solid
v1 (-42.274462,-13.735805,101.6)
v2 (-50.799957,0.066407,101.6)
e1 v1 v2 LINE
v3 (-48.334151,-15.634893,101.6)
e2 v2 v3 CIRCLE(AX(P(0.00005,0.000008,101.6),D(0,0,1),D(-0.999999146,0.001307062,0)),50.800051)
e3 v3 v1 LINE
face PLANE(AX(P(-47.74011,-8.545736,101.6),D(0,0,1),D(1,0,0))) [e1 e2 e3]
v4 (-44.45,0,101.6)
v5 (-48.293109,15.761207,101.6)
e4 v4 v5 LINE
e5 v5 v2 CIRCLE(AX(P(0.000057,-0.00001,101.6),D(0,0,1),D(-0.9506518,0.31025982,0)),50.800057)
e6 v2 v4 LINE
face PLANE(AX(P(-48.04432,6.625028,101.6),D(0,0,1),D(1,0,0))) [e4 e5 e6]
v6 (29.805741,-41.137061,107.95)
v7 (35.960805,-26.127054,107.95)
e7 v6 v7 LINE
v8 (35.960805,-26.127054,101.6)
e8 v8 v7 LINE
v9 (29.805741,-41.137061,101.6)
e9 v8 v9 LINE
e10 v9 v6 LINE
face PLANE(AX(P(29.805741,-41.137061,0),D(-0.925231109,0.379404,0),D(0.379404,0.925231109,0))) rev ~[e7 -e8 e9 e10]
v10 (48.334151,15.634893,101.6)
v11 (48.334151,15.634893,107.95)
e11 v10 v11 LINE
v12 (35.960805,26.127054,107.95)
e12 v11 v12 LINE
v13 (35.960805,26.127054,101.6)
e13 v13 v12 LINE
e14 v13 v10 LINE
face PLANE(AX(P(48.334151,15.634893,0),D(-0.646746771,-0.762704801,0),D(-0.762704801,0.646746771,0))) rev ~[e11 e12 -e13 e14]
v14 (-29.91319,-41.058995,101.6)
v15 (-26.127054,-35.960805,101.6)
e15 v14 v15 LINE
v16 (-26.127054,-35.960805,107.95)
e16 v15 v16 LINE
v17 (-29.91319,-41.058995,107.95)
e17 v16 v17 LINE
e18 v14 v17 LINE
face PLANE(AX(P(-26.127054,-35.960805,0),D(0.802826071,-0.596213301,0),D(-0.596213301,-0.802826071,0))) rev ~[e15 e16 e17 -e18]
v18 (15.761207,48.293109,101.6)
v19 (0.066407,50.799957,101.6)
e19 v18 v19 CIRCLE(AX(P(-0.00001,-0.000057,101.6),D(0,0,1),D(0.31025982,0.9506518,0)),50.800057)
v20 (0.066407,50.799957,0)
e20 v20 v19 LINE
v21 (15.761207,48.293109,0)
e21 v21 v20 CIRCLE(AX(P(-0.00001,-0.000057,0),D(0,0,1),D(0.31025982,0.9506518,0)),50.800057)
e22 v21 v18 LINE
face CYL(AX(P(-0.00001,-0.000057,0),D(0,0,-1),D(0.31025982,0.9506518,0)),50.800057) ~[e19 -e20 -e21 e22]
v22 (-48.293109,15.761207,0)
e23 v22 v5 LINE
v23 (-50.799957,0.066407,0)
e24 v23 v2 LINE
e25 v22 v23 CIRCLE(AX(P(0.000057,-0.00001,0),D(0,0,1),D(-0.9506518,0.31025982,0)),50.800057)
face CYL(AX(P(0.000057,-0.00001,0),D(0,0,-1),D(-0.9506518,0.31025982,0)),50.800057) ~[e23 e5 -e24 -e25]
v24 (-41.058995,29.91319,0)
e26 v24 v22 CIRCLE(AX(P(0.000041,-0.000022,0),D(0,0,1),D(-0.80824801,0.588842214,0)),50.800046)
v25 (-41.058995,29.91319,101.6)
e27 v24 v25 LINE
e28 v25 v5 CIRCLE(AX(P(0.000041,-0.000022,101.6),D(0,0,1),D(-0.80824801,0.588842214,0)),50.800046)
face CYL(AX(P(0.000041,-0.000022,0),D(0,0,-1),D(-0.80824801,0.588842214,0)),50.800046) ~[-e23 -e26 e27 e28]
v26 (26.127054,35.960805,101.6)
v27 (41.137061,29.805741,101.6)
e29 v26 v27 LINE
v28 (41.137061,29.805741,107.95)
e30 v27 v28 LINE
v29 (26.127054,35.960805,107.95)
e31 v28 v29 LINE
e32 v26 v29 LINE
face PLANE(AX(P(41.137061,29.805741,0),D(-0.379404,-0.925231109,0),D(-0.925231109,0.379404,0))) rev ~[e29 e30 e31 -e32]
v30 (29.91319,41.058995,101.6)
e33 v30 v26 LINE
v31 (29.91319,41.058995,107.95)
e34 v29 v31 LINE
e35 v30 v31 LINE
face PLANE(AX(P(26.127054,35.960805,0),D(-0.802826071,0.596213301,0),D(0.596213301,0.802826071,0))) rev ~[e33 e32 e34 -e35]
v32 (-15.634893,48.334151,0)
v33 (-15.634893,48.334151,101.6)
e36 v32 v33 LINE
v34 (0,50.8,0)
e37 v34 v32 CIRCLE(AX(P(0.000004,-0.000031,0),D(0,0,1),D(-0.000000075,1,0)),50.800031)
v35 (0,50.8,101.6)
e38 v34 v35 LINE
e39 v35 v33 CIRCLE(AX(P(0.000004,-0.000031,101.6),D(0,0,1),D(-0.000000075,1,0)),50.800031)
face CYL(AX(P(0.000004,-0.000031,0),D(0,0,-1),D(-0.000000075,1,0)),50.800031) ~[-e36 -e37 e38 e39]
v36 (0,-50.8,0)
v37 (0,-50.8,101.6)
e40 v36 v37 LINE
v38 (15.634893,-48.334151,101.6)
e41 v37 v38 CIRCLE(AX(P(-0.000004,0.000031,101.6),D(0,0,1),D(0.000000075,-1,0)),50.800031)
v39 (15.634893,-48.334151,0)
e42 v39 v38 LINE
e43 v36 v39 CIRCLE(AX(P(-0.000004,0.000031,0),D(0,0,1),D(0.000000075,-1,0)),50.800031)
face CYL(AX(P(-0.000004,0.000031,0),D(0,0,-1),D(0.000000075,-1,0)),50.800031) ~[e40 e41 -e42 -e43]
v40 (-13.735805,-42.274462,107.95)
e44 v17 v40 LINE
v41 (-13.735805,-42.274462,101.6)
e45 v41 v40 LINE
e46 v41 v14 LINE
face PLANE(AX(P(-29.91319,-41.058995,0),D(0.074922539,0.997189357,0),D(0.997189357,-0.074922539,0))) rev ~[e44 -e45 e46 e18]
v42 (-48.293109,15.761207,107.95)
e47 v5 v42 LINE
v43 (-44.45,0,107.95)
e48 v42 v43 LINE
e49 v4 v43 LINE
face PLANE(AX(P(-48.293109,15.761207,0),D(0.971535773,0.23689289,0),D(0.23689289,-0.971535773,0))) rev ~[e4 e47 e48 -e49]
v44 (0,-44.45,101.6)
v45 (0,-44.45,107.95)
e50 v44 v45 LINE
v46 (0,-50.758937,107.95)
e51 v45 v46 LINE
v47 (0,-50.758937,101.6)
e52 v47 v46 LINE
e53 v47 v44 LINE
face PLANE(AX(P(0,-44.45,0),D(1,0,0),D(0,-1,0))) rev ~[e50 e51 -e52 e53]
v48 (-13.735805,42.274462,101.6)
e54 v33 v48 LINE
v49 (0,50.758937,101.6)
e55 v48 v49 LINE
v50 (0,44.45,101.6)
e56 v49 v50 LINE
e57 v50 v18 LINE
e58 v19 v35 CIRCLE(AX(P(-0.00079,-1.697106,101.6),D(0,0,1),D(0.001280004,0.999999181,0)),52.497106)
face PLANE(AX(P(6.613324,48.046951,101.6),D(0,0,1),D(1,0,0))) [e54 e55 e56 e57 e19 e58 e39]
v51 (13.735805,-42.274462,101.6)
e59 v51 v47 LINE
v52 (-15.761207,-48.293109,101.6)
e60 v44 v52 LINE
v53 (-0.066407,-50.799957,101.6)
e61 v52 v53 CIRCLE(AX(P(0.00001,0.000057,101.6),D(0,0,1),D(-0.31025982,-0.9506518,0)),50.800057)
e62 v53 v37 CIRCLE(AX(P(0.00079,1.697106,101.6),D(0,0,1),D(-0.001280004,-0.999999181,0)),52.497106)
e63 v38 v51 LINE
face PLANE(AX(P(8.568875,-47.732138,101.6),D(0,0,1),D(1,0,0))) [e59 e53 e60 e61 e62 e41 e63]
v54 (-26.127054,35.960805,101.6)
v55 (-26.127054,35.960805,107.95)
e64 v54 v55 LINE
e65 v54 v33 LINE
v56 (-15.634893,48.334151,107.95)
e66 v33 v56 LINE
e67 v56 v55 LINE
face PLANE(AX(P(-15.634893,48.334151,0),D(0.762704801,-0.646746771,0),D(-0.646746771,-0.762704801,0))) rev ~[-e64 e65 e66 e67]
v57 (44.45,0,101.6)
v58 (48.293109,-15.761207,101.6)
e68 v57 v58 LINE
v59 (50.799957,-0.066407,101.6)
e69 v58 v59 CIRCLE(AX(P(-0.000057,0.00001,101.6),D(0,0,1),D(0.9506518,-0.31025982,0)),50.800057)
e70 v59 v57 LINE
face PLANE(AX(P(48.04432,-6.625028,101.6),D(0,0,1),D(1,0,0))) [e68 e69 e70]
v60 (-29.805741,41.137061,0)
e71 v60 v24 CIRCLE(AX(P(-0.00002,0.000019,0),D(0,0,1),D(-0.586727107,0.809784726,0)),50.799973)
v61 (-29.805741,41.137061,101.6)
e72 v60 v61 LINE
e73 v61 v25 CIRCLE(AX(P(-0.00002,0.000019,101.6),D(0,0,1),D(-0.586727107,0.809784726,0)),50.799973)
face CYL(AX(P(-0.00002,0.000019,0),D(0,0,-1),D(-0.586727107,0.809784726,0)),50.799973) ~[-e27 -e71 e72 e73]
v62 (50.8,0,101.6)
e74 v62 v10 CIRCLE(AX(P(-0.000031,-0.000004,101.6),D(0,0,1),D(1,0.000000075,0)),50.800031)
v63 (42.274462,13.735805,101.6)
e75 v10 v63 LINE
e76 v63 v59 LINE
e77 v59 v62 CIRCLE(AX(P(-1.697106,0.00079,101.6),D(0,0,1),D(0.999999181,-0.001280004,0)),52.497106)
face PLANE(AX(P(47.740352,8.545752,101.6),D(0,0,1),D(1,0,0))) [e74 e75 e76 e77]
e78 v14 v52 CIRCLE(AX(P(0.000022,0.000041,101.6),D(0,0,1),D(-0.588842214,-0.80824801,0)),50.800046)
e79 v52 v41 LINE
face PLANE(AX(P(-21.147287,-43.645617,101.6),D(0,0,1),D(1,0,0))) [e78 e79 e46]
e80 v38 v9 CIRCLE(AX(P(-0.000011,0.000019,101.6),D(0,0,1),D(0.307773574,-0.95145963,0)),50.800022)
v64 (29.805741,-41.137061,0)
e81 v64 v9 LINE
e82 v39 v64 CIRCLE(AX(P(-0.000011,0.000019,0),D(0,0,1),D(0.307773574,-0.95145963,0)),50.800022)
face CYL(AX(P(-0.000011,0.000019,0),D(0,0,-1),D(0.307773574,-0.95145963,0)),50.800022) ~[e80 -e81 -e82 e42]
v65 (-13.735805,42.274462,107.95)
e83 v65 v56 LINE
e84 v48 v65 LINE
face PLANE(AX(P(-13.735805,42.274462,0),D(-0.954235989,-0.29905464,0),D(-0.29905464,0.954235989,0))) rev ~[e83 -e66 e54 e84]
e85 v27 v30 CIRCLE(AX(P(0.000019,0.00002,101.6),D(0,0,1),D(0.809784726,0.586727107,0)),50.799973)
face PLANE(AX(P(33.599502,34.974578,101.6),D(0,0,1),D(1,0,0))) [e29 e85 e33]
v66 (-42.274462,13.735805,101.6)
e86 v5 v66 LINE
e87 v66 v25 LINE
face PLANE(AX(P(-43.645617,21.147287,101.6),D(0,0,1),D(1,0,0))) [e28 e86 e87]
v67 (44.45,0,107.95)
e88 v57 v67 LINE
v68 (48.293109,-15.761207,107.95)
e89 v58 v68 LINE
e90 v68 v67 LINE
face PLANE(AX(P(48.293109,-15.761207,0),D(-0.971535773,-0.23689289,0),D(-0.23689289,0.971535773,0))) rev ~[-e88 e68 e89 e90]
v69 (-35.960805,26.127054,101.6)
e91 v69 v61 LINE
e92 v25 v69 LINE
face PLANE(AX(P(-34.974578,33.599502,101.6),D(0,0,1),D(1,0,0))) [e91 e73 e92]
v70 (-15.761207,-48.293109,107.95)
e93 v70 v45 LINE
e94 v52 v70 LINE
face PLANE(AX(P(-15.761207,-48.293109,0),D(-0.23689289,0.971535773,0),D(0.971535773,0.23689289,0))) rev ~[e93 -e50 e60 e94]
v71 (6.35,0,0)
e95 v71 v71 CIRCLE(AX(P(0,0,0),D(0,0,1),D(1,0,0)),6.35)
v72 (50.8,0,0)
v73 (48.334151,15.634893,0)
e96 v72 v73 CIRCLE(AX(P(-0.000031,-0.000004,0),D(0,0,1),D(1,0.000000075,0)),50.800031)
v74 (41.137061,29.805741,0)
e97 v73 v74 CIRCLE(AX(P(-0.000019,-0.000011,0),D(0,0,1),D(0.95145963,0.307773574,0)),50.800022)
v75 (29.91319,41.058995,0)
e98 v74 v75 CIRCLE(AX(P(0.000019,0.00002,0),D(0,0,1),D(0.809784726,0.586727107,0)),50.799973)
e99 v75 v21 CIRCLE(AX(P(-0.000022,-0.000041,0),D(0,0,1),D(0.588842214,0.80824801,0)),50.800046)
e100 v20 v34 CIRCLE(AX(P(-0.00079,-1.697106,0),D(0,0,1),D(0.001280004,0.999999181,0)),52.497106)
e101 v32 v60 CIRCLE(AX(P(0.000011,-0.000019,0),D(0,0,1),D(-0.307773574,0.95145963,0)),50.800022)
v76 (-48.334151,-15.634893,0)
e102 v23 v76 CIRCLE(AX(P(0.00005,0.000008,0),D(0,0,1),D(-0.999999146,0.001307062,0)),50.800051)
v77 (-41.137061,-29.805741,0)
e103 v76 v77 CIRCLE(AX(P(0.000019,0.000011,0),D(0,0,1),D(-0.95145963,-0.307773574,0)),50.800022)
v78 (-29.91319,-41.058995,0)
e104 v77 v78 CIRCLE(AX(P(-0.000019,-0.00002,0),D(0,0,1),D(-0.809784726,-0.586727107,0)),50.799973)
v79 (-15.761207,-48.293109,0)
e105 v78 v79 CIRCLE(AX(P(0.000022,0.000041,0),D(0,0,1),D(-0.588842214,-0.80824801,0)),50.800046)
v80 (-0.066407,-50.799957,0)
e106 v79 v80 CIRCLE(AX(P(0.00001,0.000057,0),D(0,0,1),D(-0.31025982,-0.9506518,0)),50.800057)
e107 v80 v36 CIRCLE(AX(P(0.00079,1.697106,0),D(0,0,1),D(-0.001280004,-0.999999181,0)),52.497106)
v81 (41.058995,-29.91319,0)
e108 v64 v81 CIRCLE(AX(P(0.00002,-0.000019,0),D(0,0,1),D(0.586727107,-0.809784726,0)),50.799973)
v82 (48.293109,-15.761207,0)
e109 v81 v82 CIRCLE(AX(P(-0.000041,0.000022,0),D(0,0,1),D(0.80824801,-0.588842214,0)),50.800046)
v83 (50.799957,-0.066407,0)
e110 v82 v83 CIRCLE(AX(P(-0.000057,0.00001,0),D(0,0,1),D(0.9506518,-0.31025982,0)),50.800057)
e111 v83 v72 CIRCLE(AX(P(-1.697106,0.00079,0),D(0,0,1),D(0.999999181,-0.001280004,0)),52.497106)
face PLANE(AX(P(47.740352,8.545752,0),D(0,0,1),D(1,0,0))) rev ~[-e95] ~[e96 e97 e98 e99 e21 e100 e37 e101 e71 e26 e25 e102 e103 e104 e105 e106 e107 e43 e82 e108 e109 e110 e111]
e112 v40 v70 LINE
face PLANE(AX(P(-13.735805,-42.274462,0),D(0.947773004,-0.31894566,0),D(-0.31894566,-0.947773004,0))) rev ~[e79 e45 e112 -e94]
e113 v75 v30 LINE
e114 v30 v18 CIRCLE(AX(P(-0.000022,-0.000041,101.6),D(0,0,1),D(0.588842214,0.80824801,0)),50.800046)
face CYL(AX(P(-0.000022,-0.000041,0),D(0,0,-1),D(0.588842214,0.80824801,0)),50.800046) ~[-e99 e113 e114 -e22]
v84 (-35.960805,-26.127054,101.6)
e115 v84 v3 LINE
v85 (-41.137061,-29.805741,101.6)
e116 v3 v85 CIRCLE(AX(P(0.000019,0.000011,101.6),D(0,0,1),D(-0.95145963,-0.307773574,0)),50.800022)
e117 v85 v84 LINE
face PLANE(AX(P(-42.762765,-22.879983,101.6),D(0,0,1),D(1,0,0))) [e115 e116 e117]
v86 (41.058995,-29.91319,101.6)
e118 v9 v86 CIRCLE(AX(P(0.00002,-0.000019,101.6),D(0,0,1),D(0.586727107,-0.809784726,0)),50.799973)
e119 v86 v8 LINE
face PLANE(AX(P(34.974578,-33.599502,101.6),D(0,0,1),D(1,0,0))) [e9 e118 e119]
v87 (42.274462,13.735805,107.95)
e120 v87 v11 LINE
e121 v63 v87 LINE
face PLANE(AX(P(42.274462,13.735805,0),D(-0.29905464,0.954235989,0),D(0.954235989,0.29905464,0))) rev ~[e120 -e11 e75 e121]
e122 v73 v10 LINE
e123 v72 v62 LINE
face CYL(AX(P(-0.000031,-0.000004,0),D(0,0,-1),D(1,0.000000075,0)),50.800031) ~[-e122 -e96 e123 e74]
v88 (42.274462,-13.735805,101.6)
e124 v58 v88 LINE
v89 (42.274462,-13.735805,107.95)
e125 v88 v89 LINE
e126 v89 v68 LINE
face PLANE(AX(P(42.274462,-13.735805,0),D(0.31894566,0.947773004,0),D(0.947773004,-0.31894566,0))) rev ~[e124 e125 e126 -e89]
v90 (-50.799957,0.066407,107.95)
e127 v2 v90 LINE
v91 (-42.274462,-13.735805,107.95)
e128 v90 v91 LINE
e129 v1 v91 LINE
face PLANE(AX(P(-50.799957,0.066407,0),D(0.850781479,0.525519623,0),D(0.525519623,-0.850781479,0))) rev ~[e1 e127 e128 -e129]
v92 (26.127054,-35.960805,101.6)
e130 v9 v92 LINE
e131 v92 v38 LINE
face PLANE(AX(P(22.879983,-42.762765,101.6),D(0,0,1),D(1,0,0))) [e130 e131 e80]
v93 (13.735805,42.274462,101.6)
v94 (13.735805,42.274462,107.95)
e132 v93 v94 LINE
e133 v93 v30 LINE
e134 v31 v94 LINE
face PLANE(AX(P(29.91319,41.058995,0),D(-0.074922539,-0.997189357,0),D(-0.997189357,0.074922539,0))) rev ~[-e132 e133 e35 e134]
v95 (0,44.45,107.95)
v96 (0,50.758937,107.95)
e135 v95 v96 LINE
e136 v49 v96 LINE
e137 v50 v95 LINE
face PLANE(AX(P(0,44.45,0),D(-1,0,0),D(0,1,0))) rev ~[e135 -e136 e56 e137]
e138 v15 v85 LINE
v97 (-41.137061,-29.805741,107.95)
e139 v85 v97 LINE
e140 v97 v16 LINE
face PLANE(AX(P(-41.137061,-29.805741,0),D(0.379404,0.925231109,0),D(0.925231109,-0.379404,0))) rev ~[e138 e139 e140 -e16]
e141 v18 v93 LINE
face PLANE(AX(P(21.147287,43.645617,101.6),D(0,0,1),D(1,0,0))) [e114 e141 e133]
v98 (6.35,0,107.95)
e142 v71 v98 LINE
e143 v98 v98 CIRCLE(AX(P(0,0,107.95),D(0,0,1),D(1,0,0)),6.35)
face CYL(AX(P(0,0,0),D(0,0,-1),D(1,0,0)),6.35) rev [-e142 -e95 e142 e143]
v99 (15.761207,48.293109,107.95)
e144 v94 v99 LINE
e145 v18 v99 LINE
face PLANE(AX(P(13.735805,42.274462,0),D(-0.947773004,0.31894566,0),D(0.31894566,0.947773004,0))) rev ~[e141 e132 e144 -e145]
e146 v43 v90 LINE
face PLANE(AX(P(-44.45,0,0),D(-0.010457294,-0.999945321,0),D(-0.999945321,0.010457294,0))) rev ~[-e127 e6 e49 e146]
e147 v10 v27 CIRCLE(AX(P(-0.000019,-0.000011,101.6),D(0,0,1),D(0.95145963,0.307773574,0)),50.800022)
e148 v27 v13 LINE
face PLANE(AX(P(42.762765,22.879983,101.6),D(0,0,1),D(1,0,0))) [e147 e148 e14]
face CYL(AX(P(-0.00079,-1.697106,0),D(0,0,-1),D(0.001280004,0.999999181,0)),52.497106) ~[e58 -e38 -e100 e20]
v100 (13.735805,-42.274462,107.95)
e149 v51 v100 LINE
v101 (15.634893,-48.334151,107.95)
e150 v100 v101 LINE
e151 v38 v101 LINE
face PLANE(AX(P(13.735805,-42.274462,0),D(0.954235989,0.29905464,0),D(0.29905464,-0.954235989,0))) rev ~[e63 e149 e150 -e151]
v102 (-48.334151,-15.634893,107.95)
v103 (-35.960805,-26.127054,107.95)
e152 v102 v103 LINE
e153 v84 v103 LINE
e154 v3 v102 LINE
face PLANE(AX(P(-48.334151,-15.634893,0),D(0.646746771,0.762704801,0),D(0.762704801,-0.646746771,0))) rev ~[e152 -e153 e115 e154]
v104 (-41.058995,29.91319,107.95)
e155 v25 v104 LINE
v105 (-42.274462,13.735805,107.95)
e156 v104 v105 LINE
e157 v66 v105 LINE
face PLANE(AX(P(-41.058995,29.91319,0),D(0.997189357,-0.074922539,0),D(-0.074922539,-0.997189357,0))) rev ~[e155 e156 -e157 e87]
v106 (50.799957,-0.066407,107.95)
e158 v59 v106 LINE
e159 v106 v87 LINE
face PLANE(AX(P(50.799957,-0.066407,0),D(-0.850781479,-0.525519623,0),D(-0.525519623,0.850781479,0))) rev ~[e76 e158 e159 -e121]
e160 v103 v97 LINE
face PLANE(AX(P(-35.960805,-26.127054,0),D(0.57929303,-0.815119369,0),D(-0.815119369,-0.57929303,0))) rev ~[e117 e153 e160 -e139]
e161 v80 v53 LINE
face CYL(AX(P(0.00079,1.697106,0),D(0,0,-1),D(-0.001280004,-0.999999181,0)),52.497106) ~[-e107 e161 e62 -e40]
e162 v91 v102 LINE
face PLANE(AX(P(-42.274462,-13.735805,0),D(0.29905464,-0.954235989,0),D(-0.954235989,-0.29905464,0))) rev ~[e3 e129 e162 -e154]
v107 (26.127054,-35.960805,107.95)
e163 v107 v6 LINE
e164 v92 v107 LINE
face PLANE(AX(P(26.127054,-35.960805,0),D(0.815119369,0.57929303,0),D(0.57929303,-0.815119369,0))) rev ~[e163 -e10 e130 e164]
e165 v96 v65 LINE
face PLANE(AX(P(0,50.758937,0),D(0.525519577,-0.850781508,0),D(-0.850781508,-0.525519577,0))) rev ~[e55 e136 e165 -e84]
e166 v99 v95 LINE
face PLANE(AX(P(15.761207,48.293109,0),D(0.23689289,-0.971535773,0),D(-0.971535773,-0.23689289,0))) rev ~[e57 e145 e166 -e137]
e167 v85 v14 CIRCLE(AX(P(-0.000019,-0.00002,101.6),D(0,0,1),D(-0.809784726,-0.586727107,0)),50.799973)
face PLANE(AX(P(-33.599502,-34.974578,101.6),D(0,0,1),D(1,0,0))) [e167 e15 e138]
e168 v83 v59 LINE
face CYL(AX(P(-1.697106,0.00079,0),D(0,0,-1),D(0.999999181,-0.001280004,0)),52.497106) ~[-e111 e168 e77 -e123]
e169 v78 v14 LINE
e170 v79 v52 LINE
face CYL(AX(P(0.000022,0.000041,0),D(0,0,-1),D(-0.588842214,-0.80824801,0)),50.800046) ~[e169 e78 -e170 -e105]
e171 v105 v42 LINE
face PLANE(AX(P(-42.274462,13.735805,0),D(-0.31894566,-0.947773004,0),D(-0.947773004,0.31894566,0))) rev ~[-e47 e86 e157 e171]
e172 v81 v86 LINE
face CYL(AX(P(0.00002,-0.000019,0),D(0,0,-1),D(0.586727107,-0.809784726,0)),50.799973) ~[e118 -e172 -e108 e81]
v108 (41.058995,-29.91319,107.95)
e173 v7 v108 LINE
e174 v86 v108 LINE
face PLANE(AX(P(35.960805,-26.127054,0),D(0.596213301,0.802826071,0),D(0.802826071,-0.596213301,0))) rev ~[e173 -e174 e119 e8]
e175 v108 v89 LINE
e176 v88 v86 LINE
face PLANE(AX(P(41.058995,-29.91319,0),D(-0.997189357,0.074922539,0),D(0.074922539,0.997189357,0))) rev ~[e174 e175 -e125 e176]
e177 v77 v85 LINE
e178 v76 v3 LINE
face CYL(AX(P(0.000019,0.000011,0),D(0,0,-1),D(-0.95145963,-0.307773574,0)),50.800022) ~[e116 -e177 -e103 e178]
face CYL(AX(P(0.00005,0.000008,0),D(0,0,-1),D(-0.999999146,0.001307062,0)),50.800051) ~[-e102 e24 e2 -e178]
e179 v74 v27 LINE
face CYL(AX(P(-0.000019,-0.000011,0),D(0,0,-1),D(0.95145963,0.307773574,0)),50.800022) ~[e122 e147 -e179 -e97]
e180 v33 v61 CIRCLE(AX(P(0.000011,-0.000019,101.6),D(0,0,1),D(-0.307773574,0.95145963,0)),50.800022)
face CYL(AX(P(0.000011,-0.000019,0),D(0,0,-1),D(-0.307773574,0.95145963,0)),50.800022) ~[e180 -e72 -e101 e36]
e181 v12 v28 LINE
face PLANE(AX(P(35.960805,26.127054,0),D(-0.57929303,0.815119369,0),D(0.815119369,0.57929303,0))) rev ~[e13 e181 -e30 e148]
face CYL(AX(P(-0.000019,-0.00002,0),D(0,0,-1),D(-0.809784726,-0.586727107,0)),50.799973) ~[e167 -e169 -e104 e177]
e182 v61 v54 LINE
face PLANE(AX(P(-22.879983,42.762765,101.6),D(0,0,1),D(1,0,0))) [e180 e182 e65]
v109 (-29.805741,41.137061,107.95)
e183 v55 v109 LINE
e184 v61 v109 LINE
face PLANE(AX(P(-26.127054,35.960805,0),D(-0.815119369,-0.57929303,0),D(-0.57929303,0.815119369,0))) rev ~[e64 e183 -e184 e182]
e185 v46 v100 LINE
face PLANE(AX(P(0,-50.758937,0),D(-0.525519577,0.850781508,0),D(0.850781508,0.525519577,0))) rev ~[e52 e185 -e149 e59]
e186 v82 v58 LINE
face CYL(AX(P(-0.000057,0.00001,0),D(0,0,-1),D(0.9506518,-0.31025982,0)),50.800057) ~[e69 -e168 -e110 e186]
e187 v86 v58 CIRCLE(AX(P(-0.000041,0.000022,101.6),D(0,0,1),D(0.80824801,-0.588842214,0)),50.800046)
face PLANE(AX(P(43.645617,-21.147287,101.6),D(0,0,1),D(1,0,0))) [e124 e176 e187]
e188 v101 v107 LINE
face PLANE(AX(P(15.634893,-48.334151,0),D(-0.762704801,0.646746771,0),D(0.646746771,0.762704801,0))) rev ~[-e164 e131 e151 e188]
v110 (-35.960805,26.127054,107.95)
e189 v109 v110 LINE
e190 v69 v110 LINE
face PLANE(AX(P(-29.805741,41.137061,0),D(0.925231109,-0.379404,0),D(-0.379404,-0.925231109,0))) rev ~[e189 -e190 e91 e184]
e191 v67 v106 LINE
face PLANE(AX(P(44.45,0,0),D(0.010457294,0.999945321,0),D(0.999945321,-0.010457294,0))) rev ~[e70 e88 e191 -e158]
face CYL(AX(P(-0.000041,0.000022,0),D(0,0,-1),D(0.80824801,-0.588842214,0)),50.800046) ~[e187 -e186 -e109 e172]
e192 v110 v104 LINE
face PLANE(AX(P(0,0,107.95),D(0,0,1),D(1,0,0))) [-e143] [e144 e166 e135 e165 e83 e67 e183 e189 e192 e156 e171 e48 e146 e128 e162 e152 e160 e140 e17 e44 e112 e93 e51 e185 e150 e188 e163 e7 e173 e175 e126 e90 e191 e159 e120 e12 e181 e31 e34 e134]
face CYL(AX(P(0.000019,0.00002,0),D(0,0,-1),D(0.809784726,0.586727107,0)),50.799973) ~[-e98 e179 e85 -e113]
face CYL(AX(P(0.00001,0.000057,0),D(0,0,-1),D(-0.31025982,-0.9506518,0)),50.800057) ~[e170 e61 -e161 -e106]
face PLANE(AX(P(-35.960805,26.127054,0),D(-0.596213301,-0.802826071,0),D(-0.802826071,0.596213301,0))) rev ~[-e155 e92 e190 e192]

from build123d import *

# Parameters (mm, degrees)
F0_R     = 6.35
F1_DEPTH = 107.95
F2_DEPTH = 101.6


with BuildPart() as f1:
    # F0 (on Top) → F1 (new body)
    with BuildSketch(Plane.XY):
        Polygon((42.274462, 13.735805), (48.334151, 15.634893), (35.960805, 26.127054), (41.137061, 29.805741), (26.127054, 35.960805), (29.91319, 41.058995), (13.735805, 42.274462), (15.761207, 48.293109), (0, 44.45), (0, 50.758937), (-13.735805, 42.274462), (-15.634893, 48.334151), (-26.127054, 35.960805), (-29.805741, 41.137061), (-35.960805, 26.127054), (-41.058995, 29.91319), (-42.274462, 13.735805), (-48.293109, 15.761207), (-44.45, 0), (-50.799957, 0.066407), (-42.274462, -13.735805), (-48.334151, -15.634893), (-35.960805, -26.127054), (-41.137061, -29.805741), (-26.127054, -35.960805), (-29.91319, -41.058995), (-13.735805, -42.274462), (-15.761207, -48.293109), (0, -44.45), (0, -50.758937), (13.735805, -42.274462), (15.634893, -48.334151), (26.127054, -35.960805), (29.805741, -41.137061), (35.960805, -26.127054), (41.058995, -29.91319), (42.274462, -13.735805), (48.293109, -15.761207), (44.45, 0), (50.799957, -0.066407), align=None)
        Circle(F0_R, mode=Mode.SUBTRACT)
    extrude(amount=F1_DEPTH)

    # F0 (on Top) → F2 (join)
    with BuildSketch(Plane.XY):
        with BuildLine():
            ThreePointArc((50.799957, -0.066407), (50.799989, -0.033204), (50.8, 0))
            ThreePointArc((50.8, 0), (50.179751, 7.914074), (48.334151, 15.634893))
            Line((48.334151, 15.634893), (42.274462, 13.735805))
            Line((42.274462, 13.735805), (50.799957, -0.066407))
        make_face()
        with BuildLine():
            Line((35.960805, 26.127054), (48.334151, 15.634893))
            ThreePointArc((48.334151, 15.634893), (45.293241, 23.003528), (41.137061, 29.805741))
            Line((41.137061, 29.805741), (35.960805, 26.127054))
        make_face()
        with BuildLine():
            ThreePointArc((48.293109, -15.761207), (50.164136, -8.012454), (50.799957, -0.066407))
            Line((50.799957, -0.066407), (44.45, 0))
            Line((44.45, 0), (48.293109, -15.761207))
        make_face()
        with BuildLine():
            Line((26.127054, 35.960805), (41.137061, 29.805741))
            ThreePointArc((41.137061, 29.805741), (35.967951, 35.874037), (29.91319, 41.058995))
            Line((29.91319, 41.058995), (26.127054, 35.960805))
        make_face()
        with BuildLine():
            ThreePointArc((41.058995, -29.91319), (45.232944, -23.121867), (48.293109, -15.761207))
            Line((48.293109, -15.761207), (42.274462, -13.735805))
            Line((42.274462, -13.735805), (41.058995, -29.91319))
        make_face()
        with BuildLine():
            Line((13.735805, 42.274462), (29.91319, 41.058995))
            ThreePointArc((29.91319, 41.058995), (23.121867, 45.232944), (15.761207, 48.293109))
            Line((15.761207, 48.293109), (13.735805, 42.274462))
        make_face()
        with BuildLine():
            ThreePointArc((29.805741, -41.137061), (35.874037, -35.967951), (41.058995, -29.91319))
            Line((41.058995, -29.91319), (35.960805, -26.127054))
            Line((35.960805, -26.127054), (29.805741, -41.137061))
        make_face()
        with BuildLine():
            Line((0, 44.45), (15.761207, 48.293109))
            ThreePointArc((15.761207, 48.293109), (8.012454, 50.164136), (0.066407, 50.799957))
            Line((0.066407, 50.799957), (0, 50.758937))
            Line((0, 50.758937), (0, 44.45))
        make_face()
        with BuildLine():
            ThreePointArc((15.634893, -48.334151), (23.003528, -45.293241), (29.805741, -41.137061))
            Line((29.805741, -41.137061), (26.127054, -35.960805))
            Line((26.127054, -35.960805), (15.634893, -48.334151))
        make_face()
        with BuildLine():
            Line((0, 50.758937), (0.066407, 50.799957))
            ThreePointArc((0.066407, 50.799957), (0.033204, 50.799989), (0, 50.8))
            Line((0, 50.8), (0, 50.758937))
        make_face()
        with BuildLine():
            ThreePointArc((0, -50.8), (7.914074, -50.179751), (15.634893, -48.334151))
            Line((15.634893, -48.334151), (13.735805, -42.274462))
            Line((13.735805, -42.274462), (0, -50.758937))
            Line((0, -50.758937), (0, -50.8))
        make_face()
        with BuildLine():
            Line((0, 50.758937), (0, 50.8))
            ThreePointArc((0, 50.8), (-7.914074, 50.179751), (-15.634893, 48.334151))
            Line((-15.634893, 48.334151), (-13.735805, 42.274462))
            Line((-13.735805, 42.274462), (0, 50.758937))
        make_face()
        with BuildLine():
            ThreePointArc((-0.066407, -50.799957), (-0.033204, -50.799989), (0, -50.8))
            Line((0, -50.8), (0, -50.758937))
            Line((0, -50.758937), (-0.066407, -50.799957))
        make_face()
        with BuildLine():
            Line((-26.127054, 35.960805), (-15.634893, 48.334151))
            ThreePointArc((-15.634893, 48.334151), (-23.003528, 45.293241), (-29.805741, 41.137061))
            Line((-29.805741, 41.137061), (-26.127054, 35.960805))
        make_face()
        with BuildLine():
            ThreePointArc((-15.761207, -48.293109), (-8.012454, -50.164136), (-0.066407, -50.799957))
            Line((-0.066407, -50.799957), (0, -50.758937))
            Line((0, -50.758937), (0, -44.45))
            Line((0, -44.45), (-15.761207, -48.293109))
        make_face()
        with BuildLine():
            Line((-35.960805, 26.127054), (-29.805741, 41.137061))
            ThreePointArc((-29.805741, 41.137061), (-35.874037, 35.967951), (-41.058995, 29.91319))
            Line((-41.058995, 29.91319), (-35.960805, 26.127054))
        make_face()
        with BuildLine():
            ThreePointArc((-29.91319, -41.058995), (-23.121867, -45.232944), (-15.761207, -48.293109))
            Line((-15.761207, -48.293109), (-13.735805, -42.274462))
            Line((-13.735805, -42.274462), (-29.91319, -41.058995))
        make_face()
        with BuildLine():
            Line((-42.274462, 13.735805), (-41.058995, 29.91319))
            ThreePointArc((-41.058995, 29.91319), (-45.232944, 23.121867), (-48.293109, 15.761207))
            Line((-48.293109, 15.761207), (-42.274462, 13.735805))
        make_face()
        with BuildLine():
            ThreePointArc((-41.137061, -29.805741), (-35.967951, -35.874037), (-29.91319, -41.058995))
            Line((-29.91319, -41.058995), (-26.127054, -35.960805))
            Line((-26.127054, -35.960805), (-41.137061, -29.805741))
        make_face()
        with BuildLine():
            Line((-44.45, 0), (-48.293109, 15.761207))
            ThreePointArc((-48.293109, 15.761207), (-50.164136, 8.012454), (-50.799957, 0.066407))
            Line((-50.799957, 0.066407), (-44.45, 0))
        make_face()
        with BuildLine():
            ThreePointArc((-48.334151, -15.634893), (-45.293241, -23.003528), (-41.137061, -29.805741))
            Line((-41.137061, -29.805741), (-35.960805, -26.127054))
            Line((-35.960805, -26.127054), (-48.334151, -15.634893))
        make_face()
        with BuildLine():
            Line((-42.274462, -13.735805), (-50.799957, 0.066407))
            ThreePointArc((-50.799957, 0.066407), (-50.184913, -7.881274), (-48.334151, -15.634893))
            Line((-48.334151, -15.634893), (-42.274462, -13.735805))
        make_face()
    extrude(amount=F2_DEPTH)


solid = f1.part
